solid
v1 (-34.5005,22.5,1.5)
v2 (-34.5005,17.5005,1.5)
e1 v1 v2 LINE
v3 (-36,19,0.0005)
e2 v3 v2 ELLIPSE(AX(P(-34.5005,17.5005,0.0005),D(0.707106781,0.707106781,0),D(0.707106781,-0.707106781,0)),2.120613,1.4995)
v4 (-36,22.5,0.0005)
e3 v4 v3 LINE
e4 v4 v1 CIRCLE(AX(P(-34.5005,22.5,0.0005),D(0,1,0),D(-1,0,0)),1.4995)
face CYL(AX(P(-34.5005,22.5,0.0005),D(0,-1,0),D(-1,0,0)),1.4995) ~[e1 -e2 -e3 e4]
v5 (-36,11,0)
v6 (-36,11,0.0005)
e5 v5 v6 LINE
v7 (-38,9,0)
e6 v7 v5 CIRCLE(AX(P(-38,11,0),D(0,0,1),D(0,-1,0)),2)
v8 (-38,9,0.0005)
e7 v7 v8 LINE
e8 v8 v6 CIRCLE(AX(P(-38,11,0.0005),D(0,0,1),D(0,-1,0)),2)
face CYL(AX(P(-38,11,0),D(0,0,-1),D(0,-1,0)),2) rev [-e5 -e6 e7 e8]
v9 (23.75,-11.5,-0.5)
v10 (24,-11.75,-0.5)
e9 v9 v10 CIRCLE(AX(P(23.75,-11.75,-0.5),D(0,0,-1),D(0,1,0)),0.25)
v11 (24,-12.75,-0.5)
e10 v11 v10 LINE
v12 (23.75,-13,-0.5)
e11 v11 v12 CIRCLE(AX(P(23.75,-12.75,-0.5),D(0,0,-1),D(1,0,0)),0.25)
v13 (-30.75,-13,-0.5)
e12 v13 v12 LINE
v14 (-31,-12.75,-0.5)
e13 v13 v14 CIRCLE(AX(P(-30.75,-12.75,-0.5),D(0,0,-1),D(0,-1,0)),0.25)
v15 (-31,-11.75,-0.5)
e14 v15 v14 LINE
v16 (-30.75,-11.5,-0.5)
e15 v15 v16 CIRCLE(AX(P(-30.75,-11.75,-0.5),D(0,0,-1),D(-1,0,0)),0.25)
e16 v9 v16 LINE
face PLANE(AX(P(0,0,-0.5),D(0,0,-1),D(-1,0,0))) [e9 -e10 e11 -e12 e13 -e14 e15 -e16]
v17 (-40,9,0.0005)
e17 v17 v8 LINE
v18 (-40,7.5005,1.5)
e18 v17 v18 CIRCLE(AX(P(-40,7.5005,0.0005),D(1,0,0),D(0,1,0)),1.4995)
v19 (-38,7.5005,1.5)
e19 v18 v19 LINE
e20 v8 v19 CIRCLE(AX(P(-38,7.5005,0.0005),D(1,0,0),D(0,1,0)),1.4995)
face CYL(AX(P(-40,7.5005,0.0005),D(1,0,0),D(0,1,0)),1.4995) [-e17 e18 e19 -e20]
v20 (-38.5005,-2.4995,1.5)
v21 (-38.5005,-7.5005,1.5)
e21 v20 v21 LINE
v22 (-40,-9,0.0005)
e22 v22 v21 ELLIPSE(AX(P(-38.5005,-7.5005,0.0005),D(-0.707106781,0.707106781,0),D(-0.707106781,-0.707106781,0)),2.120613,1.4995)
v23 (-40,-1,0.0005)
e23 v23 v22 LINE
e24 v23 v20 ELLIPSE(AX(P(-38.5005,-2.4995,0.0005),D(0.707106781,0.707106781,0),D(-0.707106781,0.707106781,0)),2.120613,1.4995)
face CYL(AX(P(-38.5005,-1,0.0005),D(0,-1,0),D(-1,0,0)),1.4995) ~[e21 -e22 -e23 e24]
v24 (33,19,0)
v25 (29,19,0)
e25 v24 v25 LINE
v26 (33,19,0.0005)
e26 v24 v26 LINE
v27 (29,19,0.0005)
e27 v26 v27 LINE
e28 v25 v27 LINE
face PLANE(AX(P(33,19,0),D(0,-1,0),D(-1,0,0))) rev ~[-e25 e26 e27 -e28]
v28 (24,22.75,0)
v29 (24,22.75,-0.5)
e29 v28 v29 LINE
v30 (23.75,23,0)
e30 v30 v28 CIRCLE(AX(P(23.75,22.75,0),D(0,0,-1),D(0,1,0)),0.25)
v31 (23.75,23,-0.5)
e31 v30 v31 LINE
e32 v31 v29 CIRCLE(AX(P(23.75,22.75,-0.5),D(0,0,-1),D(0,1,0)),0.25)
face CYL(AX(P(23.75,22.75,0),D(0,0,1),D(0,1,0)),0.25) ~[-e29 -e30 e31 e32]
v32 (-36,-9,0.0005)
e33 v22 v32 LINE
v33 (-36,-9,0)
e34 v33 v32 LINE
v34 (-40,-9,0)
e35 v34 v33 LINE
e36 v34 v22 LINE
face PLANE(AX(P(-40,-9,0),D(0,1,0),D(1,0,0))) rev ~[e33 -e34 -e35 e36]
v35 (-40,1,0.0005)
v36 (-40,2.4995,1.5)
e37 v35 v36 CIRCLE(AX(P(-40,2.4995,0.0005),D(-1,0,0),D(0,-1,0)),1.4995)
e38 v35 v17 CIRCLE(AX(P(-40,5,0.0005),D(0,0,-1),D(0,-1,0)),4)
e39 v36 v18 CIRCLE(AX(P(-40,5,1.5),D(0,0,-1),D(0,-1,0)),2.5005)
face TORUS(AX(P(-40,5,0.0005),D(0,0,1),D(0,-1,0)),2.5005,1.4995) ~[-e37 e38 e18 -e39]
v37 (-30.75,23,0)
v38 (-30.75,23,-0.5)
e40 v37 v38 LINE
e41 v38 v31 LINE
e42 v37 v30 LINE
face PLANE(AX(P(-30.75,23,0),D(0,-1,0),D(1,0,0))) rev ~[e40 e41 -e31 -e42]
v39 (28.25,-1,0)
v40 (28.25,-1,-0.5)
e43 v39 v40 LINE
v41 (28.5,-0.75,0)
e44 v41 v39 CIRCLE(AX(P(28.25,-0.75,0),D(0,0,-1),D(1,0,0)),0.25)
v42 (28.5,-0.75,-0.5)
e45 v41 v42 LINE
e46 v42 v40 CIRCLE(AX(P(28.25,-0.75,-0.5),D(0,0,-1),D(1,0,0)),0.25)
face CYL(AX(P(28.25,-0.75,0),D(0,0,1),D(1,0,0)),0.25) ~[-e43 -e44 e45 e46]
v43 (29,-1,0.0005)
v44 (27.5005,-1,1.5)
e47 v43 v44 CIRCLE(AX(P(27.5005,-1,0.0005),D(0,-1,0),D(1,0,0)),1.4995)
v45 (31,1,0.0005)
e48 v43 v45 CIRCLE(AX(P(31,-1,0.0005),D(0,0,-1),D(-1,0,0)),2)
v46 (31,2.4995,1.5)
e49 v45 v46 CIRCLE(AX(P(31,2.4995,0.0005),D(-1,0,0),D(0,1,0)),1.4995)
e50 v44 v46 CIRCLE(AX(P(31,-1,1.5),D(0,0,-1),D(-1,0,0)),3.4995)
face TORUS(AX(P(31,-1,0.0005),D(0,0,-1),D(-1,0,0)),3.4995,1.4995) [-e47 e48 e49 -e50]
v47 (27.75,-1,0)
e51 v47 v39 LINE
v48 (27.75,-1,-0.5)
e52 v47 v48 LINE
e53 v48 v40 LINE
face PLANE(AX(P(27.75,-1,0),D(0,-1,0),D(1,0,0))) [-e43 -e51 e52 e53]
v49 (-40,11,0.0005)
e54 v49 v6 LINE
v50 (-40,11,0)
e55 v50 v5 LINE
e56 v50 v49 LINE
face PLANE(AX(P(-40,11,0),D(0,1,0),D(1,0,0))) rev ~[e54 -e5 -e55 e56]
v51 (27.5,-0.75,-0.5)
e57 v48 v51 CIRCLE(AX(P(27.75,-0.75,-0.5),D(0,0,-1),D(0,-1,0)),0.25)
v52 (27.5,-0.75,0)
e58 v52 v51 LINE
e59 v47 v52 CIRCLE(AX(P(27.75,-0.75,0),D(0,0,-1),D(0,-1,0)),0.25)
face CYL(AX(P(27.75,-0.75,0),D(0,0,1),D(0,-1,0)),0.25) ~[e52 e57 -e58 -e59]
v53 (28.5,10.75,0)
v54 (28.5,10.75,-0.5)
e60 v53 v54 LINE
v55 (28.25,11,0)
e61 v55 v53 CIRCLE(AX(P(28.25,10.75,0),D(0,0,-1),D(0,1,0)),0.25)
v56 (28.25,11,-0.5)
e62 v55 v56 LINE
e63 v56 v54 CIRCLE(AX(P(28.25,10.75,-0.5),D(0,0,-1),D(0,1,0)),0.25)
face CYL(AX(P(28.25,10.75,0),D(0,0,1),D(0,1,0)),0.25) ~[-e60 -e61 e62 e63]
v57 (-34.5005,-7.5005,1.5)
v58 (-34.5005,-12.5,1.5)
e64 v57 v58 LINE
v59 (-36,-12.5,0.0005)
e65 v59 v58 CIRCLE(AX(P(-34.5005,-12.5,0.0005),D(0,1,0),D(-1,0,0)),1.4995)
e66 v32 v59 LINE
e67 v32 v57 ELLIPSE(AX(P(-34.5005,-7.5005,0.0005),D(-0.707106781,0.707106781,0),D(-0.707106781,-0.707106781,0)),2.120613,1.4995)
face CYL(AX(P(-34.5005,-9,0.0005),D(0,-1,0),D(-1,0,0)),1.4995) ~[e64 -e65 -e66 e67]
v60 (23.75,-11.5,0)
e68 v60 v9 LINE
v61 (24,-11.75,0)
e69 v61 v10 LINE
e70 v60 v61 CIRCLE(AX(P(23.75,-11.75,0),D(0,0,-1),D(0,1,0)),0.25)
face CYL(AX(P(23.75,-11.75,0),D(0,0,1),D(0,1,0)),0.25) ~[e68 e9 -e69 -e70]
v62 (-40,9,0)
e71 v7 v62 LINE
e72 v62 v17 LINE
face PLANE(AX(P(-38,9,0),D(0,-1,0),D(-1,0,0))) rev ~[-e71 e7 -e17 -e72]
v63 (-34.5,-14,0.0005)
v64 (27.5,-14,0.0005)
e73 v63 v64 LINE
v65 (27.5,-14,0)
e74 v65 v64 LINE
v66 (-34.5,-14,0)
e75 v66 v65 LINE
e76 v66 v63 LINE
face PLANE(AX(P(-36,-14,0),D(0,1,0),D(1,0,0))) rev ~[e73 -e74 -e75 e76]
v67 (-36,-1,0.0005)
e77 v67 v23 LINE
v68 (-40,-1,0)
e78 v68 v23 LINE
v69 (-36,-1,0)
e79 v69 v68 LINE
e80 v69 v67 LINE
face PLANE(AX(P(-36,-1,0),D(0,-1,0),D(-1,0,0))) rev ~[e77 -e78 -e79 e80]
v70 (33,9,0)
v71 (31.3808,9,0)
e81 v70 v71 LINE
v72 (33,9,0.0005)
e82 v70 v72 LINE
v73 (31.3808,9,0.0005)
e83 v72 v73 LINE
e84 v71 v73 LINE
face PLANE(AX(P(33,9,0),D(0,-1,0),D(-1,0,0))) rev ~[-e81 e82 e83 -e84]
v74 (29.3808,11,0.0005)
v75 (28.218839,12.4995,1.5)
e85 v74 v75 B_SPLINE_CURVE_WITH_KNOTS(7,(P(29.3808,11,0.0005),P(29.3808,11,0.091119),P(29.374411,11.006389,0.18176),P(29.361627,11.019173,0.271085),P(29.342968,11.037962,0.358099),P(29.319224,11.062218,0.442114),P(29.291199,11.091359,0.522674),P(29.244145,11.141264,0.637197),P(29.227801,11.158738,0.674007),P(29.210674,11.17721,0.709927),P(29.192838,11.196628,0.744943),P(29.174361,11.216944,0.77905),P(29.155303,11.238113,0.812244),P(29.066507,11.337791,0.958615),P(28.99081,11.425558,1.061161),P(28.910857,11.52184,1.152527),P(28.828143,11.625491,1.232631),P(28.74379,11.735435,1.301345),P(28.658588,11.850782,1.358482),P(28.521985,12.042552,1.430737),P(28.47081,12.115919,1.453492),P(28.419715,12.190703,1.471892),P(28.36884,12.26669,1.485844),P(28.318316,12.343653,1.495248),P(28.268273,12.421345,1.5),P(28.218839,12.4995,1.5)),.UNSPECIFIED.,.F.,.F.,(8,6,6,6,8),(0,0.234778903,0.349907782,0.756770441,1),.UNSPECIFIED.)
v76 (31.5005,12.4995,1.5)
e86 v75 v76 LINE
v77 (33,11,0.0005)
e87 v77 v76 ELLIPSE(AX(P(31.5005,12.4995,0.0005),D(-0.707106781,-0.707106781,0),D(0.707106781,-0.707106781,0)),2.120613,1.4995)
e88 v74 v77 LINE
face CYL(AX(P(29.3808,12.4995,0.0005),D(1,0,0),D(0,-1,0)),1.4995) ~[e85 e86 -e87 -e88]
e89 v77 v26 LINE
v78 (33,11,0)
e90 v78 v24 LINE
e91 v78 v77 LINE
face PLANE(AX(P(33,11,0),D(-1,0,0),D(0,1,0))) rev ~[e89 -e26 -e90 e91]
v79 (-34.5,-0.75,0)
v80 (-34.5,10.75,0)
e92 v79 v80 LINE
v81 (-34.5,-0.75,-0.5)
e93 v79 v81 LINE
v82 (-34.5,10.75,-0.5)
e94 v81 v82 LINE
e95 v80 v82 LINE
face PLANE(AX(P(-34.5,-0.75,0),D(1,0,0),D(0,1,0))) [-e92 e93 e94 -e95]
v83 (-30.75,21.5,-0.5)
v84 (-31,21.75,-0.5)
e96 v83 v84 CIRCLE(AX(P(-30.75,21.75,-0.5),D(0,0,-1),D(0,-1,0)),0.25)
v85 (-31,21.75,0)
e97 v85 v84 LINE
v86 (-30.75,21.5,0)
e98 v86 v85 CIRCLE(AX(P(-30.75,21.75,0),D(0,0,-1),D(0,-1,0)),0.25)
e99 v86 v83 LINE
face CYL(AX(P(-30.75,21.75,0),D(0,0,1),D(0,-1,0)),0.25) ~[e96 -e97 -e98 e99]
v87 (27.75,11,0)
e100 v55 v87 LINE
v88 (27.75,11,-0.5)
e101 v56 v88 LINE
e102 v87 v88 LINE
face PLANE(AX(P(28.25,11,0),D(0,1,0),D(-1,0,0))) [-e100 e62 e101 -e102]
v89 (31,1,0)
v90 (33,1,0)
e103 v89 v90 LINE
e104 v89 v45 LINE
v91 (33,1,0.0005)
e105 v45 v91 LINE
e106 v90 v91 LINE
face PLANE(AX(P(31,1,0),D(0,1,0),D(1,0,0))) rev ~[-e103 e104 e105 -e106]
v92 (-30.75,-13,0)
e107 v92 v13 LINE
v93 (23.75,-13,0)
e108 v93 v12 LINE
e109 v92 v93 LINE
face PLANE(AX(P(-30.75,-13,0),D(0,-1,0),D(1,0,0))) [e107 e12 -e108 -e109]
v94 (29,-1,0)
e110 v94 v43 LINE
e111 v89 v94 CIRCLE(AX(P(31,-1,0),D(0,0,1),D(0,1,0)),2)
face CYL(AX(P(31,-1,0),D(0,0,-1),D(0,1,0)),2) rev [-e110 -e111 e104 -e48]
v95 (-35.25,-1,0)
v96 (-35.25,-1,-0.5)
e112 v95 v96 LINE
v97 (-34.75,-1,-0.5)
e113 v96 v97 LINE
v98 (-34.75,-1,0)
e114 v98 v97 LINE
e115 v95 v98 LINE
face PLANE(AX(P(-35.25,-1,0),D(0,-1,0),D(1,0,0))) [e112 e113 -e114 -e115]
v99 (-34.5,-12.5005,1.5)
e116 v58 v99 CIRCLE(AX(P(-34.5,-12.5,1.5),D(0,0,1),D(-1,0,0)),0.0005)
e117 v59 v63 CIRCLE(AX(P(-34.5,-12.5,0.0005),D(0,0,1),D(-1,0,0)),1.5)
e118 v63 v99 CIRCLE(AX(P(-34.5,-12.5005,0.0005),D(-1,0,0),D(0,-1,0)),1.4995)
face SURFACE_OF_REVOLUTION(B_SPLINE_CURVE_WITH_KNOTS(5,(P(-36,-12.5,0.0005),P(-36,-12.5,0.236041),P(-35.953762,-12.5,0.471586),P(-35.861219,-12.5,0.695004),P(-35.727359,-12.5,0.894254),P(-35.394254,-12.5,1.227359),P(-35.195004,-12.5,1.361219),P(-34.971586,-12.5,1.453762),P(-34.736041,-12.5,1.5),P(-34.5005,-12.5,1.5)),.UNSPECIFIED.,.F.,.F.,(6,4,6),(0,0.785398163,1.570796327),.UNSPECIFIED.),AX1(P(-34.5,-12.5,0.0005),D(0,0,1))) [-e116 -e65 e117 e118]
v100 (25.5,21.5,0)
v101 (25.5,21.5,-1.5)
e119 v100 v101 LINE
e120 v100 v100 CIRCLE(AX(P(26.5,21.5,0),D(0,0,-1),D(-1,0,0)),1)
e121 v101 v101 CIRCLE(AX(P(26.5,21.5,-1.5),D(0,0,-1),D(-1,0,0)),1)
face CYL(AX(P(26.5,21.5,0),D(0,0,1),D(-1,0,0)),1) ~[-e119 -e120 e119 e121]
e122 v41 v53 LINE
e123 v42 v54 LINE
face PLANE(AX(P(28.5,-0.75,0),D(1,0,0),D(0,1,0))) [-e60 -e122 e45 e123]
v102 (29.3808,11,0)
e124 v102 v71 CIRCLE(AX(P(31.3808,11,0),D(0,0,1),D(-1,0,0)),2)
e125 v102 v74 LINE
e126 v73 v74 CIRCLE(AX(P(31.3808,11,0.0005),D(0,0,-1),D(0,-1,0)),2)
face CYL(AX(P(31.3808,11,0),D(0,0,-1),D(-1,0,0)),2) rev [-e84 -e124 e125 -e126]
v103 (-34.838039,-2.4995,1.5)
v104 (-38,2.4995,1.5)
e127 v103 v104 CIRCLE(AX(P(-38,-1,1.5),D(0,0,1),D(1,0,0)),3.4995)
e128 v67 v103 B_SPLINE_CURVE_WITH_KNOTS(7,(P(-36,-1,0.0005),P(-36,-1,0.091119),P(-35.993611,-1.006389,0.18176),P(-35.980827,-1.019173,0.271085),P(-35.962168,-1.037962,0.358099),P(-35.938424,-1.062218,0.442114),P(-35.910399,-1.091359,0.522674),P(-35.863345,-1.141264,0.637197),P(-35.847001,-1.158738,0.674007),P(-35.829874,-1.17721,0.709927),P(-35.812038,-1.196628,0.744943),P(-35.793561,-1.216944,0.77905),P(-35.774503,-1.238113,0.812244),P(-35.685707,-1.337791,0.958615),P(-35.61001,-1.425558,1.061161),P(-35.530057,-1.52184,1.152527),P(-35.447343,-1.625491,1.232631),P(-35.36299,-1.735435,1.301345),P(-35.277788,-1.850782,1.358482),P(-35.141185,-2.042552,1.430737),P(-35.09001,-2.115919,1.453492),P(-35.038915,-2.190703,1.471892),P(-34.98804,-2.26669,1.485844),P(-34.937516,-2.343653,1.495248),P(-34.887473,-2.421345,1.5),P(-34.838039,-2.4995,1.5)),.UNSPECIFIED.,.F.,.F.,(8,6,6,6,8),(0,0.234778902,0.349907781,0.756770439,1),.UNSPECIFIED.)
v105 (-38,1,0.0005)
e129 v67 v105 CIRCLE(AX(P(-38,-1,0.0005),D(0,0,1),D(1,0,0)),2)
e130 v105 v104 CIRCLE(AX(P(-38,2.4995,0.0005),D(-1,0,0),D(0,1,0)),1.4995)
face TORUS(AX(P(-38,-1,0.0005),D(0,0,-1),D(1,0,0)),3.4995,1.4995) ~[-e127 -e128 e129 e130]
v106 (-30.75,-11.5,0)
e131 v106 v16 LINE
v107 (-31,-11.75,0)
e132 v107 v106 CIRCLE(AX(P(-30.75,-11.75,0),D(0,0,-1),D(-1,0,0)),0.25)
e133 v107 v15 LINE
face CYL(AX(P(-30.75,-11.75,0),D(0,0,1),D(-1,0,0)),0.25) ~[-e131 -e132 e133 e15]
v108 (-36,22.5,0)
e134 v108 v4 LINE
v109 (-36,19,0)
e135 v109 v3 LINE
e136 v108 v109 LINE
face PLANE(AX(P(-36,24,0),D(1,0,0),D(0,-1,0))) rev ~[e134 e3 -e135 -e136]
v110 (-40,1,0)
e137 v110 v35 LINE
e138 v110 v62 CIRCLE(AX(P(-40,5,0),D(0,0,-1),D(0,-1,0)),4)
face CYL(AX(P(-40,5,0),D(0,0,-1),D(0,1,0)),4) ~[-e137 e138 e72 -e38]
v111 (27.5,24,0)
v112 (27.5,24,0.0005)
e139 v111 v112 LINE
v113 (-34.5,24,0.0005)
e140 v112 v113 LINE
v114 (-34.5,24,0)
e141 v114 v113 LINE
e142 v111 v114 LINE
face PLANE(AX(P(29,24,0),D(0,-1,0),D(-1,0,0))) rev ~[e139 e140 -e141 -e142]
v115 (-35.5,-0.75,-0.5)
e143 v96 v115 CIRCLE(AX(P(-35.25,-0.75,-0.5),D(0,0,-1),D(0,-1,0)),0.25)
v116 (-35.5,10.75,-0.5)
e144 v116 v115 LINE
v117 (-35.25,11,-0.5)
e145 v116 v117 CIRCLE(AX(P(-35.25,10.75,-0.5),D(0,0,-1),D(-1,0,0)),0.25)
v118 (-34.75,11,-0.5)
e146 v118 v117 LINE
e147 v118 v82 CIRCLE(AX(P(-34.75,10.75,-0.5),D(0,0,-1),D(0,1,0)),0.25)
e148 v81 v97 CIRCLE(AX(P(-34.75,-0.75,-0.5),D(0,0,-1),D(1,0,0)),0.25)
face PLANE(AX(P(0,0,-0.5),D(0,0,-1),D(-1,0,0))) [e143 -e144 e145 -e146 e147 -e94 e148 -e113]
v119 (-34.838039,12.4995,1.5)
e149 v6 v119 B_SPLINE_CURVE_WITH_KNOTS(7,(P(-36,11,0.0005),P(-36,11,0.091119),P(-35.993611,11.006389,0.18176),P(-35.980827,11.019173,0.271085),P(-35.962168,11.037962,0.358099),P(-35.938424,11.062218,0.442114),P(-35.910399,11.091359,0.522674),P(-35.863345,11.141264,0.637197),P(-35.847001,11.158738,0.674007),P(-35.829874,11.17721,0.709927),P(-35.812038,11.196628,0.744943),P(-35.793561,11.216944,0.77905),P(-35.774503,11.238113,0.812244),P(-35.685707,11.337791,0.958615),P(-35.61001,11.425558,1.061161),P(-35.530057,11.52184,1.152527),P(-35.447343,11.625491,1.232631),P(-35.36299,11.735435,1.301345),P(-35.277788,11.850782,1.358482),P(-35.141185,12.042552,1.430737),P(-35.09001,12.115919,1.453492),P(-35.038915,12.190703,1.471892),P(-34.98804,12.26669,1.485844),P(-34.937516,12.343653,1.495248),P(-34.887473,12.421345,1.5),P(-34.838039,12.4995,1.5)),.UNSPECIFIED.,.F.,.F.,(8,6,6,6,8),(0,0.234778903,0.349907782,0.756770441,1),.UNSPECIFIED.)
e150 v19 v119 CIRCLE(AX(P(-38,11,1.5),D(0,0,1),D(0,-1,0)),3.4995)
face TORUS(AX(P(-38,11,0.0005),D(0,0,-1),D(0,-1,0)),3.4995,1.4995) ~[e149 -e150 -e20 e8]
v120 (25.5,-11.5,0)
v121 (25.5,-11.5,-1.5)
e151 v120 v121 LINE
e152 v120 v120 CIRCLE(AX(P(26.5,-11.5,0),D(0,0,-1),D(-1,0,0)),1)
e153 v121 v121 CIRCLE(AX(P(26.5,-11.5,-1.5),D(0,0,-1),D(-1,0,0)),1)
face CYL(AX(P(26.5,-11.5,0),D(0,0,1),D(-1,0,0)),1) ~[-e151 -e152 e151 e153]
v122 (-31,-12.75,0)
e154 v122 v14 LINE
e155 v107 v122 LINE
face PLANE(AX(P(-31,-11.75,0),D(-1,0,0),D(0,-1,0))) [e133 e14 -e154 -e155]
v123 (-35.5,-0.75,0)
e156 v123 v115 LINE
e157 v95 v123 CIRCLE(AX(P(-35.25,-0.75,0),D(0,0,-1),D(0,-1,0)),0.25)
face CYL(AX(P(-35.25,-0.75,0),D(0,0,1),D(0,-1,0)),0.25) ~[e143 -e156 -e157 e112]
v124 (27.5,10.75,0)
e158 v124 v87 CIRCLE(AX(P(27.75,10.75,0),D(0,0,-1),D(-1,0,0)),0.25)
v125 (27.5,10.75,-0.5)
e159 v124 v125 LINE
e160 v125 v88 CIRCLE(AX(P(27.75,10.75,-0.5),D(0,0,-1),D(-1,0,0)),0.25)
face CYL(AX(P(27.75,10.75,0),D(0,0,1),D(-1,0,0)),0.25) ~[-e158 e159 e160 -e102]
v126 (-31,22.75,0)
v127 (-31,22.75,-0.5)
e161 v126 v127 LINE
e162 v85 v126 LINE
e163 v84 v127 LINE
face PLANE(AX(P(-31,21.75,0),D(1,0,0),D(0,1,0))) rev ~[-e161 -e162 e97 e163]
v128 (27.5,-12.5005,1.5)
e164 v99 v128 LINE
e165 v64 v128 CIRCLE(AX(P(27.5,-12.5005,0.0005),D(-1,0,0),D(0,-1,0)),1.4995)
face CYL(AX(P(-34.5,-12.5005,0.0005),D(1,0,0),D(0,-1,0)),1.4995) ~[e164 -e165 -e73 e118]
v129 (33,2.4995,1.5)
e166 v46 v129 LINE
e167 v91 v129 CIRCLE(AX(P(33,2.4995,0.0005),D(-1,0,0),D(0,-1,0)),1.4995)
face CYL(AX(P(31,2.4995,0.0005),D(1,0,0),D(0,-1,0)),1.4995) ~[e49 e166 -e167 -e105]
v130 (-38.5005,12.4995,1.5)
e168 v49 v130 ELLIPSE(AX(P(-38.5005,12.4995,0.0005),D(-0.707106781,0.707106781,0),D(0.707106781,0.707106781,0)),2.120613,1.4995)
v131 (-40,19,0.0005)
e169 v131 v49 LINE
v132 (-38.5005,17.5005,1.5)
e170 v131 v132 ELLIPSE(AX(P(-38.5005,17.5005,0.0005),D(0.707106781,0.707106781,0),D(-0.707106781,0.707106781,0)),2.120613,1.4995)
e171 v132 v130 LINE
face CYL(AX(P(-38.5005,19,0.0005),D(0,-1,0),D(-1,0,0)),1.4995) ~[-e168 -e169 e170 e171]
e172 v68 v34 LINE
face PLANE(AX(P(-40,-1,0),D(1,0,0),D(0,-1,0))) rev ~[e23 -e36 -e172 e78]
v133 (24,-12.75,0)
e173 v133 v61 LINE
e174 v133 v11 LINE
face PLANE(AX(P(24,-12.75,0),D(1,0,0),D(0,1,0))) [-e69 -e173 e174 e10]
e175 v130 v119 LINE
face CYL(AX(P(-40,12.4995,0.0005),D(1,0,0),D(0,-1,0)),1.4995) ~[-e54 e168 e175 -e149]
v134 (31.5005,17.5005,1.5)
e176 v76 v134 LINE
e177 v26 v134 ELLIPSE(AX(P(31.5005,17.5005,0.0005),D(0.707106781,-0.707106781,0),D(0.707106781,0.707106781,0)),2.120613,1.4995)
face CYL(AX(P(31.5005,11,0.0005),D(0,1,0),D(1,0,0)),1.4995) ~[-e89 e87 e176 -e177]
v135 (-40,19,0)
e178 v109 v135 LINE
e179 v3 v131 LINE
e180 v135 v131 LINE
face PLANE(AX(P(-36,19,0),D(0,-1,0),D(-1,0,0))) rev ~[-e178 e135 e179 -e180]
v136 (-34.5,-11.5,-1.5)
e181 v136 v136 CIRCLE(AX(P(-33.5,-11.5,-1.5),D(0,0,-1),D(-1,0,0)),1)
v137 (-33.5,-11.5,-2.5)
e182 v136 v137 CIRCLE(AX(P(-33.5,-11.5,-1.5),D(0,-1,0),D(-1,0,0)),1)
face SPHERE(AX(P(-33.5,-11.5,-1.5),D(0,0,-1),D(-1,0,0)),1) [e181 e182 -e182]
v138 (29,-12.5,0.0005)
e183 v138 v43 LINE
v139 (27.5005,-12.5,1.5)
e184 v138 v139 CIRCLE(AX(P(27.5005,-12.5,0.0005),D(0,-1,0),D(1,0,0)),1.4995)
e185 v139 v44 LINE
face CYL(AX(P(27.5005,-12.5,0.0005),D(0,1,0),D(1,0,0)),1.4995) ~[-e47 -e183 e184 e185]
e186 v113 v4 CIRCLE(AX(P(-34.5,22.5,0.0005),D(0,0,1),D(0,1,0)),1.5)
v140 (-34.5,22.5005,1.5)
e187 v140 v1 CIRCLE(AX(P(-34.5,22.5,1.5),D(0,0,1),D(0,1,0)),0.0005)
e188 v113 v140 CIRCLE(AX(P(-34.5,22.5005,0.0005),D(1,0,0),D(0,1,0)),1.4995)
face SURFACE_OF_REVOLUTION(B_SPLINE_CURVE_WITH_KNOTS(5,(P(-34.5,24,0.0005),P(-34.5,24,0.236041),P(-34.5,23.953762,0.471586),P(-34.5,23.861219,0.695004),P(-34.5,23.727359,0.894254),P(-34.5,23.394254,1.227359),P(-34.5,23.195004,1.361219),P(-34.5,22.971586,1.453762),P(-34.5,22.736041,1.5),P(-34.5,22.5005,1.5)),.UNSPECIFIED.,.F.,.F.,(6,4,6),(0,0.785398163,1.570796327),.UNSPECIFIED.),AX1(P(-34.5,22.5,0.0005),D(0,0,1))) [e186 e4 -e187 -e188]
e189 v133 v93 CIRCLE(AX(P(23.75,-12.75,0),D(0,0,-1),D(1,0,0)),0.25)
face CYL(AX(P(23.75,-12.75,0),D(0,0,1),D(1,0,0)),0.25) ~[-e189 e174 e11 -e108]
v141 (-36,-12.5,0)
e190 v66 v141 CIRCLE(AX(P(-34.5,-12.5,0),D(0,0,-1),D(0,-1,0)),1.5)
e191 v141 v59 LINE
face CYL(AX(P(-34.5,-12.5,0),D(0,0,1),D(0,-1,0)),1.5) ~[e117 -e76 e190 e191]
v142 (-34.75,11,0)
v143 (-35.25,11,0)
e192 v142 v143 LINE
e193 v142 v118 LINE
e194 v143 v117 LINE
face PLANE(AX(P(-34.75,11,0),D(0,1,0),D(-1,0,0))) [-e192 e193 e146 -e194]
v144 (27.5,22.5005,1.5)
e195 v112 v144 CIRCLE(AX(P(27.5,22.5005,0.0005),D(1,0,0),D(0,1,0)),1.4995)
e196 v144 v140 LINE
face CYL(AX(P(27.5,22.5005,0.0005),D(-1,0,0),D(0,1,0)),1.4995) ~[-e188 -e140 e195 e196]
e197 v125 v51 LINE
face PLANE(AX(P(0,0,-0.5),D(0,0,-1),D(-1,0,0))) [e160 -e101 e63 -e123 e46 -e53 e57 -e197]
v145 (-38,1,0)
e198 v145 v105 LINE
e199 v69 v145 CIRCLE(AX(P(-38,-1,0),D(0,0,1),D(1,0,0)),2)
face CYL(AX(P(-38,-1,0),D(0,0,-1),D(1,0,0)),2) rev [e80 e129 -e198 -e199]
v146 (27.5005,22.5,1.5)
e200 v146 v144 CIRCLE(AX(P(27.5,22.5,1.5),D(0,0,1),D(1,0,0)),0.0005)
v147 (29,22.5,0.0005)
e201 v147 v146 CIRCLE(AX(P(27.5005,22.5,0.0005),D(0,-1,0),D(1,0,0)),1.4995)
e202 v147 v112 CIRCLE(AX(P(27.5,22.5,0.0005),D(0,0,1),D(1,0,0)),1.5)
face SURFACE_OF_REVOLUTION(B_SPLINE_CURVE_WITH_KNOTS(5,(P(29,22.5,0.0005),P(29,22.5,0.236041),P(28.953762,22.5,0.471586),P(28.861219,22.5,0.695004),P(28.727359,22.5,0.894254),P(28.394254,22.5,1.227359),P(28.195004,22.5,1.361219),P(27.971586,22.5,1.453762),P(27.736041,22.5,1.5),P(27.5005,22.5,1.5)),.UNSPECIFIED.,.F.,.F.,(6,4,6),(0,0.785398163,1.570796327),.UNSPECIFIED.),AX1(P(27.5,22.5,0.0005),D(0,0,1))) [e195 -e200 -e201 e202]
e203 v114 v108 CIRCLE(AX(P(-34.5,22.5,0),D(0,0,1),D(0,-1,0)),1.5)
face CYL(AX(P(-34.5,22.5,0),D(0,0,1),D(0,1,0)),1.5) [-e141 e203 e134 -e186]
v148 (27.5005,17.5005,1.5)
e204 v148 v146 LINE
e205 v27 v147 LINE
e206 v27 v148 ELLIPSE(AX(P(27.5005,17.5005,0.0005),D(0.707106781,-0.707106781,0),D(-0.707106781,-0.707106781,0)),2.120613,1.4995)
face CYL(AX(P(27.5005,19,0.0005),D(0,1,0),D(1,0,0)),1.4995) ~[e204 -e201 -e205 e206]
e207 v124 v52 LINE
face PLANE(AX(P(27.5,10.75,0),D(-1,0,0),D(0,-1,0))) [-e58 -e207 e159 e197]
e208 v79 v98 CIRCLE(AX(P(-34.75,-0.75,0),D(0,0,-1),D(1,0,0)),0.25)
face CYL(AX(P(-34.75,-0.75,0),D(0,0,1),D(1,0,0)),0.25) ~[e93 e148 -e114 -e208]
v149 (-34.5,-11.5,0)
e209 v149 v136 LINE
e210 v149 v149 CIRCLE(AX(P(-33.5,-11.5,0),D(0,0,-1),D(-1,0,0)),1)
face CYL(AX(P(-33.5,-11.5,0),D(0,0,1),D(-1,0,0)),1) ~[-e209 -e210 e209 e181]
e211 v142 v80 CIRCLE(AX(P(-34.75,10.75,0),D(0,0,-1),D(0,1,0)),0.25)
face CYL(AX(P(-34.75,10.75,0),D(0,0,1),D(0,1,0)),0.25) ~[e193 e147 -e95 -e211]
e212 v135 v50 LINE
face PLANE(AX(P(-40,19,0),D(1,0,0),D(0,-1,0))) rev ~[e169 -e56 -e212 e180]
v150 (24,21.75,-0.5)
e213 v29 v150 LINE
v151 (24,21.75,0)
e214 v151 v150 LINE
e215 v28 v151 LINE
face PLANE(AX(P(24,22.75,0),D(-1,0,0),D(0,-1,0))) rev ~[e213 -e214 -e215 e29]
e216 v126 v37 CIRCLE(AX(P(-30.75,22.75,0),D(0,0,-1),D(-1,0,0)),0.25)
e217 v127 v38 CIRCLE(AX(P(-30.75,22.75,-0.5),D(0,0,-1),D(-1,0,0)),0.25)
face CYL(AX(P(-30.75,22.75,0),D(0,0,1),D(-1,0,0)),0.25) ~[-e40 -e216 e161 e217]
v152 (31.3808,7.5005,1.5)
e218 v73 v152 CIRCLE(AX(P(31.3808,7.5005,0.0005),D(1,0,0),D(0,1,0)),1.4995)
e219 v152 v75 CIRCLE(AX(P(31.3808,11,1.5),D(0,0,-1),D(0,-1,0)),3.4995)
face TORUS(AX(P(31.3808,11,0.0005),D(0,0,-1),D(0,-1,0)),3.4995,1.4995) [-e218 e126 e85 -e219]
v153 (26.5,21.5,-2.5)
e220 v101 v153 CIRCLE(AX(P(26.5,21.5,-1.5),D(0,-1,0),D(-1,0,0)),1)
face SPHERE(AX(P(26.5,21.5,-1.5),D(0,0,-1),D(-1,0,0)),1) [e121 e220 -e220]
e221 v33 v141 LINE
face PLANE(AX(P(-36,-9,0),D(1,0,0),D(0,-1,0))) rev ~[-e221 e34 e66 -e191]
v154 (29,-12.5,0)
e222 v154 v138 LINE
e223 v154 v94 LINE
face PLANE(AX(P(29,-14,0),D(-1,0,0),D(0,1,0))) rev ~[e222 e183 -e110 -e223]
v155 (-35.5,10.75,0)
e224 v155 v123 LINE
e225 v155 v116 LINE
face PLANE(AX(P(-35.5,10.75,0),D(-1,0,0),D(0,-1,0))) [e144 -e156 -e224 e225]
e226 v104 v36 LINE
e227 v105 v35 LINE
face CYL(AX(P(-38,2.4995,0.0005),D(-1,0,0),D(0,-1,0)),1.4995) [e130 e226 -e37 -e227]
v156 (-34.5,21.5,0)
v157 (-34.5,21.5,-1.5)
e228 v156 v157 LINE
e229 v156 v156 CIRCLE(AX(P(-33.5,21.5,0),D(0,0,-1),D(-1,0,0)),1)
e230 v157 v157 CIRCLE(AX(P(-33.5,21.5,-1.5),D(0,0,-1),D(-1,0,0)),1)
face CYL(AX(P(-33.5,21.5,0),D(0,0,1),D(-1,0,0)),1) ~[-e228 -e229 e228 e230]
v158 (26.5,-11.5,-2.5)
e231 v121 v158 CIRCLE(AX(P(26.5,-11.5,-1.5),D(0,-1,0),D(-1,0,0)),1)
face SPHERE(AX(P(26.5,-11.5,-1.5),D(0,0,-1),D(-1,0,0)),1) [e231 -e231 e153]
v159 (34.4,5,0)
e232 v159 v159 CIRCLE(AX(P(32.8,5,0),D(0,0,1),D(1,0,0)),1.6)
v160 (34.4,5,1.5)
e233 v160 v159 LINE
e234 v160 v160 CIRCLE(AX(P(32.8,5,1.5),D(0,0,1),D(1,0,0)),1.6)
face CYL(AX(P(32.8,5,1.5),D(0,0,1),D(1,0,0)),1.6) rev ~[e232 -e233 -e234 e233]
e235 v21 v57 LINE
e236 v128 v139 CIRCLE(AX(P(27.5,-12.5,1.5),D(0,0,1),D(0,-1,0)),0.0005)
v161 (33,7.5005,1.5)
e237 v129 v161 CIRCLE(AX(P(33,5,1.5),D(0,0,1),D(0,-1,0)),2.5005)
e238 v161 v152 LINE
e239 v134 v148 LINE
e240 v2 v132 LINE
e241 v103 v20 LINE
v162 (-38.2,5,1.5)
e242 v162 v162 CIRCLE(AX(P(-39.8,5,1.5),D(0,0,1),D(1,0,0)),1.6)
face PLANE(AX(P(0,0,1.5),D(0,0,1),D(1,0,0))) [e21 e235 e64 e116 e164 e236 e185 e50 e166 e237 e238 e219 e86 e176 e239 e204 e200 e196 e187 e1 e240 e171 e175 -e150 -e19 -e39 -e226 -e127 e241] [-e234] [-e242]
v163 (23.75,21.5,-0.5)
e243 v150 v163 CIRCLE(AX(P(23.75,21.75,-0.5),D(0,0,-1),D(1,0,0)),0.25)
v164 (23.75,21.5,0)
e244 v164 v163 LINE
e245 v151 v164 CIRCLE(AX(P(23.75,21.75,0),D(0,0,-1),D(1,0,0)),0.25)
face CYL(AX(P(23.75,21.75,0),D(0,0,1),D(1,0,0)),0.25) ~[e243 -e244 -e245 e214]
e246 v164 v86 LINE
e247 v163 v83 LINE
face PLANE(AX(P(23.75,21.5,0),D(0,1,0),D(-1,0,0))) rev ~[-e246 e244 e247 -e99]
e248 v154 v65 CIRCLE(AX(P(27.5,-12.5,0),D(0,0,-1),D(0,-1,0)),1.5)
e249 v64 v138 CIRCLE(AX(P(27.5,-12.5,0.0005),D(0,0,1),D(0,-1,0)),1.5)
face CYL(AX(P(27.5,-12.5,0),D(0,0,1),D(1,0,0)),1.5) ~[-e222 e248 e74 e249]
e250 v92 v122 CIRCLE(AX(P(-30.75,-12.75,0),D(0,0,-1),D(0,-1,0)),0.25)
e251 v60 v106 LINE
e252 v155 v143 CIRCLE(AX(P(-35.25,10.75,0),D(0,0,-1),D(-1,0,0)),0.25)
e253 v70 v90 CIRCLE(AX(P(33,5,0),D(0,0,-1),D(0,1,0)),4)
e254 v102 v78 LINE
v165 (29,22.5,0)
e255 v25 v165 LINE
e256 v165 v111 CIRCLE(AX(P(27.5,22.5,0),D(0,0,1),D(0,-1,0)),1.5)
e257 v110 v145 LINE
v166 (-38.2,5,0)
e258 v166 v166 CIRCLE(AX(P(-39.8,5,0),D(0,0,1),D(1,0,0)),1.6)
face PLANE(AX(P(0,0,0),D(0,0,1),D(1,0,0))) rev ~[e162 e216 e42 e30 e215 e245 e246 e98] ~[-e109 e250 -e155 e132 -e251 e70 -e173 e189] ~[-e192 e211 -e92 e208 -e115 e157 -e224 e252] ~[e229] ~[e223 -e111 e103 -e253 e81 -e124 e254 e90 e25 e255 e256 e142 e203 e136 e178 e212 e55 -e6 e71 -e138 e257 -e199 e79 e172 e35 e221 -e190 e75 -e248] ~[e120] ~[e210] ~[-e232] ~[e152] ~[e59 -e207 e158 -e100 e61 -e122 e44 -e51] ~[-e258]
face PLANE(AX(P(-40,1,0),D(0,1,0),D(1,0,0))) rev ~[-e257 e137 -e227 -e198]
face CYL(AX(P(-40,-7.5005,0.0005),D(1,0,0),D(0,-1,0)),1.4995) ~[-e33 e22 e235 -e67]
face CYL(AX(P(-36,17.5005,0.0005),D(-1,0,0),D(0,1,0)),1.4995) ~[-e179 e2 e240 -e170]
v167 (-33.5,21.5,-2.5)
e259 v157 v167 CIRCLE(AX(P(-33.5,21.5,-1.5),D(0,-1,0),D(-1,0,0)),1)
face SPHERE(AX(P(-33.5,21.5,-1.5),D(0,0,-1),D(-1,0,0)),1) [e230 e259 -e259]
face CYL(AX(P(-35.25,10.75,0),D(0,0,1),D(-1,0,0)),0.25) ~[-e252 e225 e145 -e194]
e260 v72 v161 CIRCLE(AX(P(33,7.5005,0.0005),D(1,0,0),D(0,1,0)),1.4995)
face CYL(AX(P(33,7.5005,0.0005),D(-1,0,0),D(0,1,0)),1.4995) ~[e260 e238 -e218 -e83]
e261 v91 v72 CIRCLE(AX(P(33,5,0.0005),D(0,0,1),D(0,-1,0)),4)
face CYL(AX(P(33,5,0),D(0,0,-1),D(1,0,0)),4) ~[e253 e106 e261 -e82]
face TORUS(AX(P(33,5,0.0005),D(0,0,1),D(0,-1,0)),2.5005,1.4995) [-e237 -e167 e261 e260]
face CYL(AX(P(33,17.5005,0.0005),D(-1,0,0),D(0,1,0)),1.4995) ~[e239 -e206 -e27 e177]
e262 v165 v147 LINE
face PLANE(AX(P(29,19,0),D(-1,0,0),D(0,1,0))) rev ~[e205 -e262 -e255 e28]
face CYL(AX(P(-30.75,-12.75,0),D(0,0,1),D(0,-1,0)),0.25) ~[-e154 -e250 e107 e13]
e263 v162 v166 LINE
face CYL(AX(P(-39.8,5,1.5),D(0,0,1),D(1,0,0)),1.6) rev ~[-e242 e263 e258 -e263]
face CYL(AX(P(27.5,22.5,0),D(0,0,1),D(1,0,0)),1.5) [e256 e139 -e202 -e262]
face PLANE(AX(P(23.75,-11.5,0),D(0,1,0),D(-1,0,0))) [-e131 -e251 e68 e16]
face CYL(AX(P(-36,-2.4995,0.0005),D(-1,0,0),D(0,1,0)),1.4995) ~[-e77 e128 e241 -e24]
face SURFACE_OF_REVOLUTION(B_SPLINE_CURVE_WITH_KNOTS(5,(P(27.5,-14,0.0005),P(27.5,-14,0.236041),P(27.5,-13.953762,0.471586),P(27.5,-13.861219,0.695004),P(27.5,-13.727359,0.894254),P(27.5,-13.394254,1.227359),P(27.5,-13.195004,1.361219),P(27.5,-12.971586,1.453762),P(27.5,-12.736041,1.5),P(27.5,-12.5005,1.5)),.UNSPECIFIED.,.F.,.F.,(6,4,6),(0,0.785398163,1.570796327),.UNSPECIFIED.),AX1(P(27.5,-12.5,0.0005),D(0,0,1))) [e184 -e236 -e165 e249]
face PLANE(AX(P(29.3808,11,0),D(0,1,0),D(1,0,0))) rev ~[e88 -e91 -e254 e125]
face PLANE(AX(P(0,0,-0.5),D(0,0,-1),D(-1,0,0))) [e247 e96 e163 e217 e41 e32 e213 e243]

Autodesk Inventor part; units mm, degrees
ref_plane "YZ Plane" through (0, 0, 0) normal (1, 0, 0) x (0, 1, 0)
ref_plane "XZ Plane" through (0, 0, 0) normal (0, 1, 0) x (-1, 0, 0)
ref_plane "XY Plane" through (0, 0, 0) normal (0, 0, 1) x (1, 0, 0)
sketch "Эскиз1" plane through (0, 0, 0) normal (0, 0, 1) x (1, 0, 0)
  line L0 (29, 24) -> (-36, 24)
  line L1 (-36, 24) -> (-36, 19)
  line L2 (-36, 19) -> (-40, 19)
  line L3 (-40, 19) -> (-40, 11)
  line L4 (-40, 11) -> (-36, 11)
  line L5 (-36, 11) -> (-36, 11)
  line L6 (-38, 9) -> (-40, 9)
  line L7 (-44, 5) -> (-44, 5)
  line L8 (-40, 1) -> (-38, 1)
  line L9 (-36, -1) -> (-36, -1)
  line L10 (-36, -1) -> (-40, -1)
  line L11 (-40, -1) -> (-40, -9)
  line L12 (-40, -9) -> (-36, -9)
  line L13 (-36, -9) -> (-36, -14)
  line L14 (-36, -14) -> (29, -14)
  line L15 (29, -14) -> (29, -1)
  line L16 (31, 1) -> (33, 1)
  line L17 (37, 5) -> (37, 5)
  line L18 (33, 9) -> (31.3808, 9)
  line L19 (29.3808, 11) -> (29.3808, 11)
  line L20 (29.3808, 11) -> (33, 11)
  line L21 (33, 11) -> (33, 11)
  line L22 (33, 11) -> (33, 19)
  line L23 (33, 19) -> (29, 19)
  line L24 (29, 19) -> (29, 24)
  arc A0 (29.3808, 11) -> (31.3808, 9) centre (31.3808, 11) ccw
  arc A1 (-38, 9) -> (-36, 11) centre (-38, 11) ccw
  arc A2 (-36, -1) -> (-38, 1) centre (-38, -1) ccw
  arc A3 (31, 1) -> (29, -1) centre (31, -1) ccw
  arc A4 (-40, 9) -> (-44, 5) centre (-40, 5) ccw
  arc A5 (-44, 5) -> (-40, 1) centre (-40, 5) ccw
  arc A6 (37, 5) -> (33, 9) centre (33, 5) ccw
  arc A7 (33, 1) -> (37, 5) centre (33, 5) ccw
  point P0 (-36, 9)
  point P1 (-44, 9)
  point P2 (-44, 1)
  point P3 (-36, 1)
  dimension "d0" = 65
  dimension "d1" = 65
  dimension "d2" = 4
  dimension "d3" = 38
  dimension "d4" = 8
  dimension "d5" = 2
  dimension "d6" = 2
  dimension "d7" = 8
  dimension "d8" = 8
  dimension "d11" = 4
  dimension "d12" = 8
  dimension "d13" = 2
  dimension "d14" = 8
  dimension "d16" = 8
  dimension "d17" = 2
  dimension "d18" = 8
  dimension "d19" = 4
  dimension "d20" = 2
  dimension "d21" = 4
  dimension "d68" = 19
  dimension "d69" = 19
extrude "Выдавливание1" add sketch "Эскиз1" along normal blind 1.5
sketch "Эскиз2" plane through (0, 0, 1.5) normal (0, 0, 1) x (1, 0, 0)
  circle A0 centre (-39.8, 5) radius 1.6
  circle A1 centre (32.8, 5) radius 1.6
  dimension "d53" = 3.2
  dimension "d54" = 3.2
  dimension "d55" = 72.6
extrude "Выдавливание2" cut sketch "Эскиз2" against normal blind 10
sketch "Эскиз3" plane through (0, 0, 0) normal (0, 0, -1) x (-1, 0, 0)
  line L0 (30.75, 23) -> (-23.75, 23)
  line L1 (-24, 22.75) -> (-24, 21.75)
  line L2 (-23.75, 21.5) -> (30.75, 21.5)
  line L3 (31, 21.75) -> (31, 22.75)
  line L4 (-23.75, -11.5) -> (30.75, -11.5)
  line L5 (31, -11.75) -> (31, -12.75)
  line L6 (30.75, -13) -> (-23.75, -13)
  line L7 (-24, -12.75) -> (-24, -11.75)
  line L8 (-28.25, 11) -> (-27.75, 11)
  line L9 (-27.5, 10.75) -> (-27.5, -0.75)
  line L10 (-27.75, -1) -> (-28.25, -1)
  line L11 (-28.5, -0.75) -> (-28.5, 10.75)
  line L12 (34.75, 11) -> (35.25, 11)
  line L13 (35.5, 10.75) -> (35.5, -0.75)
  line L14 (35.25, -1) -> (34.75, -1)
  line L15 (34.5, -0.75) -> (34.5, 10.75)
  line L16 (3.5, -14) -> (3.5, 26) construction
  arc A0 (-27.5, 10.75) -> (-27.75, 11) centre (-27.75, 10.75) ccw
  arc A1 (-28.25, 11) -> (-28.5, 10.75) centre (-28.25, 10.75) ccw
  arc A2 (-27.75, -1) -> (-27.5, -0.75) centre (-27.75, -0.75) ccw
  arc A3 (-28.5, -0.75) -> (-28.25, -1) centre (-28.25, -0.75) ccw
  arc A4 (35.5, 10.75) -> (35.25, 11) centre (35.25, 10.75) ccw
  arc A5 (34.75, 11) -> (34.5, 10.75) centre (34.75, 10.75) ccw
  arc A6 (35.25, -1) -> (35.5, -0.75) centre (35.25, -0.75) ccw
  arc A7 (34.5, -0.75) -> (34.75, -1) centre (34.75, -0.75) ccw
  arc A8 (30.75, 21.5) -> (31, 21.75) centre (30.75, 21.75) ccw
  arc A9 (31, 22.75) -> (30.75, 23) centre (30.75, 22.75) ccw
  arc A10 (-23.75, 23) -> (-24, 22.75) centre (-23.75, 22.75) ccw
  arc A11 (-24, 21.75) -> (-23.75, 21.5) centre (-23.75, 21.75) ccw
  arc A12 (-23.75, -11.5) -> (-24, -11.75) centre (-23.75, -11.75) ccw
  arc A13 (-24, -12.75) -> (-23.75, -13) centre (-23.75, -12.75) ccw
  arc A14 (-23.75, -11.5) -> (-24, -11.75) centre (-23.75, -11.75) ccw
  arc A15 (30.75, -13) -> (31, -12.75) centre (30.75, -12.75) ccw
  arc A16 (31, -11.75) -> (30.75, -11.5) centre (30.75, -11.75) ccw
  point P0 (31, 23)
  point P1 (-24, 23)
  point P2 (-24, 21.5)
  point P3 (31, 21.5)
  point P4 (-24, -11.5)
  point P5 (31, -11.5)
  point P6 (31, -13)
  point P7 (-24, -13)
  point P8 (-28.5, 11)
  point P9 (-27.5, 11)
  point P10 (-27.5, -1)
  point P11 (-28.5, -1)
  point P12 (34.5, 11)
  point P13 (35.5, 11)
  point P14 (35.5, -1)
  point P15 (34.5, -1)
  dimension "d30" = 55
  dimension "d32" = 55
  dimension "d35" = 1.5
  dimension "d37" = 1.5
  dimension "d38" = 12
  dimension "d39" = 12
  dimension "d40" = 1
  dimension "d41" = 1
  dimension "d49" = 27.5
  dimension "d50" = 27.5
  dimension "d58" = 0.25
  dimension "d59" = 0.25
extrude "Выдавливание3" add sketch "Эскиз3" along normal blind 0.5
sketch "Эскиз5" plane through (0, 0, 0) normal (0, 0, -1) x (-1, 0, 0)
  circle A0 centre (-32.8, 5) radius 1.6 projected
  circle A1 centre (39.8, 5) radius 1.6 projected
  circle A2 centre (-26.5, 21.5) radius 1
  circle A3 centre (33.5, 21.5) radius 1
  circle A4 centre (33.5, -11.5) radius 1
  circle A5 centre (-26.5, -11.5) radius 1
  dimension "d60" = 2
  dimension "d61" = 2
  dimension "d62" = 2
  dimension "d63" = 2
  dimension "d65" = 16.5
  dimension "d66" = 16.5
  dimension "d67" = 16.5
extrude "Выдавливание4" add sketch "Эскиз5" along normal blind 2.5 contours A2 | A3 | A4 | A5
fillet "Сопряжение3" radius 1 4 edges at (27.5, 21.5, -2.5) (27.5, -11.5, -2.5) (-32.5, -11.5, -2.5) (-32.5, 21.5, -2.5)
fillet "Сопряжение4" radius 1.5 4 edges at (-36, -14, 0.75) (29, -14, 0.75) (29, 24, 0.75) (-36, 24, 0.75)
fillet "Сопряжение5" radius 1.5 29 edges at (-3.5, -14, 1.5) (-35.5607, -13.5607, 1.5) (-36, -10.75, 1.5) (28.5607, -13.5607, 1.5) (29, -6.75, 1.5) (29.5858, 0.4142, 1.5) (32, 1, 1.5) (37, 5, 1.5) (32.1904, 9, 1.5) (29.9666, 9.5858, 1.5) (31.1904, 11, 1.5) (33, 15, 1.5) (31, 19, 1.5) (29, 20.75, 1.5) (28.5607, 23.5607, 1.5) (-3.5, 24, 1.5) (-35.5607, 23.5607, 1.5) (-36, 20.75, 1.5) (-38, 19, 1.5) (-38, 11, 1.5) (-40, 15, 1.5) (-36.5858, 9.5858, 1.5) (-39, 9, 1.5) (-44, 5, 1.5) (-39, 1, 1.5) (-36.5858, 0.4142, 1.5) (-38, -1, 1.5) (-40, -5, 1.5) (-38, -9, 1.5)
sketch "Эскиз9" plane through (0, 0, 1.5) normal (0, 0, 1) x (1, 0, 0)
  line L0 (-31, 20) -> (25.1976, 20) construction
  line L1 (25.1976, 20) -> (25.1976, -10.2049) construction
  line L2 (25.1976, -10.2049) -> (-31, -10.2049) construction
  line L3 (-31, -10.2049) -> (-31, 20) construction
  point P0 (0, 0)
decal "Маркировка4"
equation "\"Радиус_гибки\" = Толщина"
equation "\"Ширина_просечки\" = Толщина"
equation "\"Глубина_просечки\" = 0.5 * Толщина"
equation "\"Размер_высечки\" = 4 * Толщина"
equation "\"Мин_остаток\" = 2 * Толщина"
equation "\"Радиус_перехода\" = Радиус_гибки"
equation "\"Радиус_Якоби\" = Радиус_гибки"
equation "\"Размер_зазора\" = Толщина"
equation "\"Толщина\" = 0.5"
properties part number "крышка Ч_А" material "По умолчанию"
